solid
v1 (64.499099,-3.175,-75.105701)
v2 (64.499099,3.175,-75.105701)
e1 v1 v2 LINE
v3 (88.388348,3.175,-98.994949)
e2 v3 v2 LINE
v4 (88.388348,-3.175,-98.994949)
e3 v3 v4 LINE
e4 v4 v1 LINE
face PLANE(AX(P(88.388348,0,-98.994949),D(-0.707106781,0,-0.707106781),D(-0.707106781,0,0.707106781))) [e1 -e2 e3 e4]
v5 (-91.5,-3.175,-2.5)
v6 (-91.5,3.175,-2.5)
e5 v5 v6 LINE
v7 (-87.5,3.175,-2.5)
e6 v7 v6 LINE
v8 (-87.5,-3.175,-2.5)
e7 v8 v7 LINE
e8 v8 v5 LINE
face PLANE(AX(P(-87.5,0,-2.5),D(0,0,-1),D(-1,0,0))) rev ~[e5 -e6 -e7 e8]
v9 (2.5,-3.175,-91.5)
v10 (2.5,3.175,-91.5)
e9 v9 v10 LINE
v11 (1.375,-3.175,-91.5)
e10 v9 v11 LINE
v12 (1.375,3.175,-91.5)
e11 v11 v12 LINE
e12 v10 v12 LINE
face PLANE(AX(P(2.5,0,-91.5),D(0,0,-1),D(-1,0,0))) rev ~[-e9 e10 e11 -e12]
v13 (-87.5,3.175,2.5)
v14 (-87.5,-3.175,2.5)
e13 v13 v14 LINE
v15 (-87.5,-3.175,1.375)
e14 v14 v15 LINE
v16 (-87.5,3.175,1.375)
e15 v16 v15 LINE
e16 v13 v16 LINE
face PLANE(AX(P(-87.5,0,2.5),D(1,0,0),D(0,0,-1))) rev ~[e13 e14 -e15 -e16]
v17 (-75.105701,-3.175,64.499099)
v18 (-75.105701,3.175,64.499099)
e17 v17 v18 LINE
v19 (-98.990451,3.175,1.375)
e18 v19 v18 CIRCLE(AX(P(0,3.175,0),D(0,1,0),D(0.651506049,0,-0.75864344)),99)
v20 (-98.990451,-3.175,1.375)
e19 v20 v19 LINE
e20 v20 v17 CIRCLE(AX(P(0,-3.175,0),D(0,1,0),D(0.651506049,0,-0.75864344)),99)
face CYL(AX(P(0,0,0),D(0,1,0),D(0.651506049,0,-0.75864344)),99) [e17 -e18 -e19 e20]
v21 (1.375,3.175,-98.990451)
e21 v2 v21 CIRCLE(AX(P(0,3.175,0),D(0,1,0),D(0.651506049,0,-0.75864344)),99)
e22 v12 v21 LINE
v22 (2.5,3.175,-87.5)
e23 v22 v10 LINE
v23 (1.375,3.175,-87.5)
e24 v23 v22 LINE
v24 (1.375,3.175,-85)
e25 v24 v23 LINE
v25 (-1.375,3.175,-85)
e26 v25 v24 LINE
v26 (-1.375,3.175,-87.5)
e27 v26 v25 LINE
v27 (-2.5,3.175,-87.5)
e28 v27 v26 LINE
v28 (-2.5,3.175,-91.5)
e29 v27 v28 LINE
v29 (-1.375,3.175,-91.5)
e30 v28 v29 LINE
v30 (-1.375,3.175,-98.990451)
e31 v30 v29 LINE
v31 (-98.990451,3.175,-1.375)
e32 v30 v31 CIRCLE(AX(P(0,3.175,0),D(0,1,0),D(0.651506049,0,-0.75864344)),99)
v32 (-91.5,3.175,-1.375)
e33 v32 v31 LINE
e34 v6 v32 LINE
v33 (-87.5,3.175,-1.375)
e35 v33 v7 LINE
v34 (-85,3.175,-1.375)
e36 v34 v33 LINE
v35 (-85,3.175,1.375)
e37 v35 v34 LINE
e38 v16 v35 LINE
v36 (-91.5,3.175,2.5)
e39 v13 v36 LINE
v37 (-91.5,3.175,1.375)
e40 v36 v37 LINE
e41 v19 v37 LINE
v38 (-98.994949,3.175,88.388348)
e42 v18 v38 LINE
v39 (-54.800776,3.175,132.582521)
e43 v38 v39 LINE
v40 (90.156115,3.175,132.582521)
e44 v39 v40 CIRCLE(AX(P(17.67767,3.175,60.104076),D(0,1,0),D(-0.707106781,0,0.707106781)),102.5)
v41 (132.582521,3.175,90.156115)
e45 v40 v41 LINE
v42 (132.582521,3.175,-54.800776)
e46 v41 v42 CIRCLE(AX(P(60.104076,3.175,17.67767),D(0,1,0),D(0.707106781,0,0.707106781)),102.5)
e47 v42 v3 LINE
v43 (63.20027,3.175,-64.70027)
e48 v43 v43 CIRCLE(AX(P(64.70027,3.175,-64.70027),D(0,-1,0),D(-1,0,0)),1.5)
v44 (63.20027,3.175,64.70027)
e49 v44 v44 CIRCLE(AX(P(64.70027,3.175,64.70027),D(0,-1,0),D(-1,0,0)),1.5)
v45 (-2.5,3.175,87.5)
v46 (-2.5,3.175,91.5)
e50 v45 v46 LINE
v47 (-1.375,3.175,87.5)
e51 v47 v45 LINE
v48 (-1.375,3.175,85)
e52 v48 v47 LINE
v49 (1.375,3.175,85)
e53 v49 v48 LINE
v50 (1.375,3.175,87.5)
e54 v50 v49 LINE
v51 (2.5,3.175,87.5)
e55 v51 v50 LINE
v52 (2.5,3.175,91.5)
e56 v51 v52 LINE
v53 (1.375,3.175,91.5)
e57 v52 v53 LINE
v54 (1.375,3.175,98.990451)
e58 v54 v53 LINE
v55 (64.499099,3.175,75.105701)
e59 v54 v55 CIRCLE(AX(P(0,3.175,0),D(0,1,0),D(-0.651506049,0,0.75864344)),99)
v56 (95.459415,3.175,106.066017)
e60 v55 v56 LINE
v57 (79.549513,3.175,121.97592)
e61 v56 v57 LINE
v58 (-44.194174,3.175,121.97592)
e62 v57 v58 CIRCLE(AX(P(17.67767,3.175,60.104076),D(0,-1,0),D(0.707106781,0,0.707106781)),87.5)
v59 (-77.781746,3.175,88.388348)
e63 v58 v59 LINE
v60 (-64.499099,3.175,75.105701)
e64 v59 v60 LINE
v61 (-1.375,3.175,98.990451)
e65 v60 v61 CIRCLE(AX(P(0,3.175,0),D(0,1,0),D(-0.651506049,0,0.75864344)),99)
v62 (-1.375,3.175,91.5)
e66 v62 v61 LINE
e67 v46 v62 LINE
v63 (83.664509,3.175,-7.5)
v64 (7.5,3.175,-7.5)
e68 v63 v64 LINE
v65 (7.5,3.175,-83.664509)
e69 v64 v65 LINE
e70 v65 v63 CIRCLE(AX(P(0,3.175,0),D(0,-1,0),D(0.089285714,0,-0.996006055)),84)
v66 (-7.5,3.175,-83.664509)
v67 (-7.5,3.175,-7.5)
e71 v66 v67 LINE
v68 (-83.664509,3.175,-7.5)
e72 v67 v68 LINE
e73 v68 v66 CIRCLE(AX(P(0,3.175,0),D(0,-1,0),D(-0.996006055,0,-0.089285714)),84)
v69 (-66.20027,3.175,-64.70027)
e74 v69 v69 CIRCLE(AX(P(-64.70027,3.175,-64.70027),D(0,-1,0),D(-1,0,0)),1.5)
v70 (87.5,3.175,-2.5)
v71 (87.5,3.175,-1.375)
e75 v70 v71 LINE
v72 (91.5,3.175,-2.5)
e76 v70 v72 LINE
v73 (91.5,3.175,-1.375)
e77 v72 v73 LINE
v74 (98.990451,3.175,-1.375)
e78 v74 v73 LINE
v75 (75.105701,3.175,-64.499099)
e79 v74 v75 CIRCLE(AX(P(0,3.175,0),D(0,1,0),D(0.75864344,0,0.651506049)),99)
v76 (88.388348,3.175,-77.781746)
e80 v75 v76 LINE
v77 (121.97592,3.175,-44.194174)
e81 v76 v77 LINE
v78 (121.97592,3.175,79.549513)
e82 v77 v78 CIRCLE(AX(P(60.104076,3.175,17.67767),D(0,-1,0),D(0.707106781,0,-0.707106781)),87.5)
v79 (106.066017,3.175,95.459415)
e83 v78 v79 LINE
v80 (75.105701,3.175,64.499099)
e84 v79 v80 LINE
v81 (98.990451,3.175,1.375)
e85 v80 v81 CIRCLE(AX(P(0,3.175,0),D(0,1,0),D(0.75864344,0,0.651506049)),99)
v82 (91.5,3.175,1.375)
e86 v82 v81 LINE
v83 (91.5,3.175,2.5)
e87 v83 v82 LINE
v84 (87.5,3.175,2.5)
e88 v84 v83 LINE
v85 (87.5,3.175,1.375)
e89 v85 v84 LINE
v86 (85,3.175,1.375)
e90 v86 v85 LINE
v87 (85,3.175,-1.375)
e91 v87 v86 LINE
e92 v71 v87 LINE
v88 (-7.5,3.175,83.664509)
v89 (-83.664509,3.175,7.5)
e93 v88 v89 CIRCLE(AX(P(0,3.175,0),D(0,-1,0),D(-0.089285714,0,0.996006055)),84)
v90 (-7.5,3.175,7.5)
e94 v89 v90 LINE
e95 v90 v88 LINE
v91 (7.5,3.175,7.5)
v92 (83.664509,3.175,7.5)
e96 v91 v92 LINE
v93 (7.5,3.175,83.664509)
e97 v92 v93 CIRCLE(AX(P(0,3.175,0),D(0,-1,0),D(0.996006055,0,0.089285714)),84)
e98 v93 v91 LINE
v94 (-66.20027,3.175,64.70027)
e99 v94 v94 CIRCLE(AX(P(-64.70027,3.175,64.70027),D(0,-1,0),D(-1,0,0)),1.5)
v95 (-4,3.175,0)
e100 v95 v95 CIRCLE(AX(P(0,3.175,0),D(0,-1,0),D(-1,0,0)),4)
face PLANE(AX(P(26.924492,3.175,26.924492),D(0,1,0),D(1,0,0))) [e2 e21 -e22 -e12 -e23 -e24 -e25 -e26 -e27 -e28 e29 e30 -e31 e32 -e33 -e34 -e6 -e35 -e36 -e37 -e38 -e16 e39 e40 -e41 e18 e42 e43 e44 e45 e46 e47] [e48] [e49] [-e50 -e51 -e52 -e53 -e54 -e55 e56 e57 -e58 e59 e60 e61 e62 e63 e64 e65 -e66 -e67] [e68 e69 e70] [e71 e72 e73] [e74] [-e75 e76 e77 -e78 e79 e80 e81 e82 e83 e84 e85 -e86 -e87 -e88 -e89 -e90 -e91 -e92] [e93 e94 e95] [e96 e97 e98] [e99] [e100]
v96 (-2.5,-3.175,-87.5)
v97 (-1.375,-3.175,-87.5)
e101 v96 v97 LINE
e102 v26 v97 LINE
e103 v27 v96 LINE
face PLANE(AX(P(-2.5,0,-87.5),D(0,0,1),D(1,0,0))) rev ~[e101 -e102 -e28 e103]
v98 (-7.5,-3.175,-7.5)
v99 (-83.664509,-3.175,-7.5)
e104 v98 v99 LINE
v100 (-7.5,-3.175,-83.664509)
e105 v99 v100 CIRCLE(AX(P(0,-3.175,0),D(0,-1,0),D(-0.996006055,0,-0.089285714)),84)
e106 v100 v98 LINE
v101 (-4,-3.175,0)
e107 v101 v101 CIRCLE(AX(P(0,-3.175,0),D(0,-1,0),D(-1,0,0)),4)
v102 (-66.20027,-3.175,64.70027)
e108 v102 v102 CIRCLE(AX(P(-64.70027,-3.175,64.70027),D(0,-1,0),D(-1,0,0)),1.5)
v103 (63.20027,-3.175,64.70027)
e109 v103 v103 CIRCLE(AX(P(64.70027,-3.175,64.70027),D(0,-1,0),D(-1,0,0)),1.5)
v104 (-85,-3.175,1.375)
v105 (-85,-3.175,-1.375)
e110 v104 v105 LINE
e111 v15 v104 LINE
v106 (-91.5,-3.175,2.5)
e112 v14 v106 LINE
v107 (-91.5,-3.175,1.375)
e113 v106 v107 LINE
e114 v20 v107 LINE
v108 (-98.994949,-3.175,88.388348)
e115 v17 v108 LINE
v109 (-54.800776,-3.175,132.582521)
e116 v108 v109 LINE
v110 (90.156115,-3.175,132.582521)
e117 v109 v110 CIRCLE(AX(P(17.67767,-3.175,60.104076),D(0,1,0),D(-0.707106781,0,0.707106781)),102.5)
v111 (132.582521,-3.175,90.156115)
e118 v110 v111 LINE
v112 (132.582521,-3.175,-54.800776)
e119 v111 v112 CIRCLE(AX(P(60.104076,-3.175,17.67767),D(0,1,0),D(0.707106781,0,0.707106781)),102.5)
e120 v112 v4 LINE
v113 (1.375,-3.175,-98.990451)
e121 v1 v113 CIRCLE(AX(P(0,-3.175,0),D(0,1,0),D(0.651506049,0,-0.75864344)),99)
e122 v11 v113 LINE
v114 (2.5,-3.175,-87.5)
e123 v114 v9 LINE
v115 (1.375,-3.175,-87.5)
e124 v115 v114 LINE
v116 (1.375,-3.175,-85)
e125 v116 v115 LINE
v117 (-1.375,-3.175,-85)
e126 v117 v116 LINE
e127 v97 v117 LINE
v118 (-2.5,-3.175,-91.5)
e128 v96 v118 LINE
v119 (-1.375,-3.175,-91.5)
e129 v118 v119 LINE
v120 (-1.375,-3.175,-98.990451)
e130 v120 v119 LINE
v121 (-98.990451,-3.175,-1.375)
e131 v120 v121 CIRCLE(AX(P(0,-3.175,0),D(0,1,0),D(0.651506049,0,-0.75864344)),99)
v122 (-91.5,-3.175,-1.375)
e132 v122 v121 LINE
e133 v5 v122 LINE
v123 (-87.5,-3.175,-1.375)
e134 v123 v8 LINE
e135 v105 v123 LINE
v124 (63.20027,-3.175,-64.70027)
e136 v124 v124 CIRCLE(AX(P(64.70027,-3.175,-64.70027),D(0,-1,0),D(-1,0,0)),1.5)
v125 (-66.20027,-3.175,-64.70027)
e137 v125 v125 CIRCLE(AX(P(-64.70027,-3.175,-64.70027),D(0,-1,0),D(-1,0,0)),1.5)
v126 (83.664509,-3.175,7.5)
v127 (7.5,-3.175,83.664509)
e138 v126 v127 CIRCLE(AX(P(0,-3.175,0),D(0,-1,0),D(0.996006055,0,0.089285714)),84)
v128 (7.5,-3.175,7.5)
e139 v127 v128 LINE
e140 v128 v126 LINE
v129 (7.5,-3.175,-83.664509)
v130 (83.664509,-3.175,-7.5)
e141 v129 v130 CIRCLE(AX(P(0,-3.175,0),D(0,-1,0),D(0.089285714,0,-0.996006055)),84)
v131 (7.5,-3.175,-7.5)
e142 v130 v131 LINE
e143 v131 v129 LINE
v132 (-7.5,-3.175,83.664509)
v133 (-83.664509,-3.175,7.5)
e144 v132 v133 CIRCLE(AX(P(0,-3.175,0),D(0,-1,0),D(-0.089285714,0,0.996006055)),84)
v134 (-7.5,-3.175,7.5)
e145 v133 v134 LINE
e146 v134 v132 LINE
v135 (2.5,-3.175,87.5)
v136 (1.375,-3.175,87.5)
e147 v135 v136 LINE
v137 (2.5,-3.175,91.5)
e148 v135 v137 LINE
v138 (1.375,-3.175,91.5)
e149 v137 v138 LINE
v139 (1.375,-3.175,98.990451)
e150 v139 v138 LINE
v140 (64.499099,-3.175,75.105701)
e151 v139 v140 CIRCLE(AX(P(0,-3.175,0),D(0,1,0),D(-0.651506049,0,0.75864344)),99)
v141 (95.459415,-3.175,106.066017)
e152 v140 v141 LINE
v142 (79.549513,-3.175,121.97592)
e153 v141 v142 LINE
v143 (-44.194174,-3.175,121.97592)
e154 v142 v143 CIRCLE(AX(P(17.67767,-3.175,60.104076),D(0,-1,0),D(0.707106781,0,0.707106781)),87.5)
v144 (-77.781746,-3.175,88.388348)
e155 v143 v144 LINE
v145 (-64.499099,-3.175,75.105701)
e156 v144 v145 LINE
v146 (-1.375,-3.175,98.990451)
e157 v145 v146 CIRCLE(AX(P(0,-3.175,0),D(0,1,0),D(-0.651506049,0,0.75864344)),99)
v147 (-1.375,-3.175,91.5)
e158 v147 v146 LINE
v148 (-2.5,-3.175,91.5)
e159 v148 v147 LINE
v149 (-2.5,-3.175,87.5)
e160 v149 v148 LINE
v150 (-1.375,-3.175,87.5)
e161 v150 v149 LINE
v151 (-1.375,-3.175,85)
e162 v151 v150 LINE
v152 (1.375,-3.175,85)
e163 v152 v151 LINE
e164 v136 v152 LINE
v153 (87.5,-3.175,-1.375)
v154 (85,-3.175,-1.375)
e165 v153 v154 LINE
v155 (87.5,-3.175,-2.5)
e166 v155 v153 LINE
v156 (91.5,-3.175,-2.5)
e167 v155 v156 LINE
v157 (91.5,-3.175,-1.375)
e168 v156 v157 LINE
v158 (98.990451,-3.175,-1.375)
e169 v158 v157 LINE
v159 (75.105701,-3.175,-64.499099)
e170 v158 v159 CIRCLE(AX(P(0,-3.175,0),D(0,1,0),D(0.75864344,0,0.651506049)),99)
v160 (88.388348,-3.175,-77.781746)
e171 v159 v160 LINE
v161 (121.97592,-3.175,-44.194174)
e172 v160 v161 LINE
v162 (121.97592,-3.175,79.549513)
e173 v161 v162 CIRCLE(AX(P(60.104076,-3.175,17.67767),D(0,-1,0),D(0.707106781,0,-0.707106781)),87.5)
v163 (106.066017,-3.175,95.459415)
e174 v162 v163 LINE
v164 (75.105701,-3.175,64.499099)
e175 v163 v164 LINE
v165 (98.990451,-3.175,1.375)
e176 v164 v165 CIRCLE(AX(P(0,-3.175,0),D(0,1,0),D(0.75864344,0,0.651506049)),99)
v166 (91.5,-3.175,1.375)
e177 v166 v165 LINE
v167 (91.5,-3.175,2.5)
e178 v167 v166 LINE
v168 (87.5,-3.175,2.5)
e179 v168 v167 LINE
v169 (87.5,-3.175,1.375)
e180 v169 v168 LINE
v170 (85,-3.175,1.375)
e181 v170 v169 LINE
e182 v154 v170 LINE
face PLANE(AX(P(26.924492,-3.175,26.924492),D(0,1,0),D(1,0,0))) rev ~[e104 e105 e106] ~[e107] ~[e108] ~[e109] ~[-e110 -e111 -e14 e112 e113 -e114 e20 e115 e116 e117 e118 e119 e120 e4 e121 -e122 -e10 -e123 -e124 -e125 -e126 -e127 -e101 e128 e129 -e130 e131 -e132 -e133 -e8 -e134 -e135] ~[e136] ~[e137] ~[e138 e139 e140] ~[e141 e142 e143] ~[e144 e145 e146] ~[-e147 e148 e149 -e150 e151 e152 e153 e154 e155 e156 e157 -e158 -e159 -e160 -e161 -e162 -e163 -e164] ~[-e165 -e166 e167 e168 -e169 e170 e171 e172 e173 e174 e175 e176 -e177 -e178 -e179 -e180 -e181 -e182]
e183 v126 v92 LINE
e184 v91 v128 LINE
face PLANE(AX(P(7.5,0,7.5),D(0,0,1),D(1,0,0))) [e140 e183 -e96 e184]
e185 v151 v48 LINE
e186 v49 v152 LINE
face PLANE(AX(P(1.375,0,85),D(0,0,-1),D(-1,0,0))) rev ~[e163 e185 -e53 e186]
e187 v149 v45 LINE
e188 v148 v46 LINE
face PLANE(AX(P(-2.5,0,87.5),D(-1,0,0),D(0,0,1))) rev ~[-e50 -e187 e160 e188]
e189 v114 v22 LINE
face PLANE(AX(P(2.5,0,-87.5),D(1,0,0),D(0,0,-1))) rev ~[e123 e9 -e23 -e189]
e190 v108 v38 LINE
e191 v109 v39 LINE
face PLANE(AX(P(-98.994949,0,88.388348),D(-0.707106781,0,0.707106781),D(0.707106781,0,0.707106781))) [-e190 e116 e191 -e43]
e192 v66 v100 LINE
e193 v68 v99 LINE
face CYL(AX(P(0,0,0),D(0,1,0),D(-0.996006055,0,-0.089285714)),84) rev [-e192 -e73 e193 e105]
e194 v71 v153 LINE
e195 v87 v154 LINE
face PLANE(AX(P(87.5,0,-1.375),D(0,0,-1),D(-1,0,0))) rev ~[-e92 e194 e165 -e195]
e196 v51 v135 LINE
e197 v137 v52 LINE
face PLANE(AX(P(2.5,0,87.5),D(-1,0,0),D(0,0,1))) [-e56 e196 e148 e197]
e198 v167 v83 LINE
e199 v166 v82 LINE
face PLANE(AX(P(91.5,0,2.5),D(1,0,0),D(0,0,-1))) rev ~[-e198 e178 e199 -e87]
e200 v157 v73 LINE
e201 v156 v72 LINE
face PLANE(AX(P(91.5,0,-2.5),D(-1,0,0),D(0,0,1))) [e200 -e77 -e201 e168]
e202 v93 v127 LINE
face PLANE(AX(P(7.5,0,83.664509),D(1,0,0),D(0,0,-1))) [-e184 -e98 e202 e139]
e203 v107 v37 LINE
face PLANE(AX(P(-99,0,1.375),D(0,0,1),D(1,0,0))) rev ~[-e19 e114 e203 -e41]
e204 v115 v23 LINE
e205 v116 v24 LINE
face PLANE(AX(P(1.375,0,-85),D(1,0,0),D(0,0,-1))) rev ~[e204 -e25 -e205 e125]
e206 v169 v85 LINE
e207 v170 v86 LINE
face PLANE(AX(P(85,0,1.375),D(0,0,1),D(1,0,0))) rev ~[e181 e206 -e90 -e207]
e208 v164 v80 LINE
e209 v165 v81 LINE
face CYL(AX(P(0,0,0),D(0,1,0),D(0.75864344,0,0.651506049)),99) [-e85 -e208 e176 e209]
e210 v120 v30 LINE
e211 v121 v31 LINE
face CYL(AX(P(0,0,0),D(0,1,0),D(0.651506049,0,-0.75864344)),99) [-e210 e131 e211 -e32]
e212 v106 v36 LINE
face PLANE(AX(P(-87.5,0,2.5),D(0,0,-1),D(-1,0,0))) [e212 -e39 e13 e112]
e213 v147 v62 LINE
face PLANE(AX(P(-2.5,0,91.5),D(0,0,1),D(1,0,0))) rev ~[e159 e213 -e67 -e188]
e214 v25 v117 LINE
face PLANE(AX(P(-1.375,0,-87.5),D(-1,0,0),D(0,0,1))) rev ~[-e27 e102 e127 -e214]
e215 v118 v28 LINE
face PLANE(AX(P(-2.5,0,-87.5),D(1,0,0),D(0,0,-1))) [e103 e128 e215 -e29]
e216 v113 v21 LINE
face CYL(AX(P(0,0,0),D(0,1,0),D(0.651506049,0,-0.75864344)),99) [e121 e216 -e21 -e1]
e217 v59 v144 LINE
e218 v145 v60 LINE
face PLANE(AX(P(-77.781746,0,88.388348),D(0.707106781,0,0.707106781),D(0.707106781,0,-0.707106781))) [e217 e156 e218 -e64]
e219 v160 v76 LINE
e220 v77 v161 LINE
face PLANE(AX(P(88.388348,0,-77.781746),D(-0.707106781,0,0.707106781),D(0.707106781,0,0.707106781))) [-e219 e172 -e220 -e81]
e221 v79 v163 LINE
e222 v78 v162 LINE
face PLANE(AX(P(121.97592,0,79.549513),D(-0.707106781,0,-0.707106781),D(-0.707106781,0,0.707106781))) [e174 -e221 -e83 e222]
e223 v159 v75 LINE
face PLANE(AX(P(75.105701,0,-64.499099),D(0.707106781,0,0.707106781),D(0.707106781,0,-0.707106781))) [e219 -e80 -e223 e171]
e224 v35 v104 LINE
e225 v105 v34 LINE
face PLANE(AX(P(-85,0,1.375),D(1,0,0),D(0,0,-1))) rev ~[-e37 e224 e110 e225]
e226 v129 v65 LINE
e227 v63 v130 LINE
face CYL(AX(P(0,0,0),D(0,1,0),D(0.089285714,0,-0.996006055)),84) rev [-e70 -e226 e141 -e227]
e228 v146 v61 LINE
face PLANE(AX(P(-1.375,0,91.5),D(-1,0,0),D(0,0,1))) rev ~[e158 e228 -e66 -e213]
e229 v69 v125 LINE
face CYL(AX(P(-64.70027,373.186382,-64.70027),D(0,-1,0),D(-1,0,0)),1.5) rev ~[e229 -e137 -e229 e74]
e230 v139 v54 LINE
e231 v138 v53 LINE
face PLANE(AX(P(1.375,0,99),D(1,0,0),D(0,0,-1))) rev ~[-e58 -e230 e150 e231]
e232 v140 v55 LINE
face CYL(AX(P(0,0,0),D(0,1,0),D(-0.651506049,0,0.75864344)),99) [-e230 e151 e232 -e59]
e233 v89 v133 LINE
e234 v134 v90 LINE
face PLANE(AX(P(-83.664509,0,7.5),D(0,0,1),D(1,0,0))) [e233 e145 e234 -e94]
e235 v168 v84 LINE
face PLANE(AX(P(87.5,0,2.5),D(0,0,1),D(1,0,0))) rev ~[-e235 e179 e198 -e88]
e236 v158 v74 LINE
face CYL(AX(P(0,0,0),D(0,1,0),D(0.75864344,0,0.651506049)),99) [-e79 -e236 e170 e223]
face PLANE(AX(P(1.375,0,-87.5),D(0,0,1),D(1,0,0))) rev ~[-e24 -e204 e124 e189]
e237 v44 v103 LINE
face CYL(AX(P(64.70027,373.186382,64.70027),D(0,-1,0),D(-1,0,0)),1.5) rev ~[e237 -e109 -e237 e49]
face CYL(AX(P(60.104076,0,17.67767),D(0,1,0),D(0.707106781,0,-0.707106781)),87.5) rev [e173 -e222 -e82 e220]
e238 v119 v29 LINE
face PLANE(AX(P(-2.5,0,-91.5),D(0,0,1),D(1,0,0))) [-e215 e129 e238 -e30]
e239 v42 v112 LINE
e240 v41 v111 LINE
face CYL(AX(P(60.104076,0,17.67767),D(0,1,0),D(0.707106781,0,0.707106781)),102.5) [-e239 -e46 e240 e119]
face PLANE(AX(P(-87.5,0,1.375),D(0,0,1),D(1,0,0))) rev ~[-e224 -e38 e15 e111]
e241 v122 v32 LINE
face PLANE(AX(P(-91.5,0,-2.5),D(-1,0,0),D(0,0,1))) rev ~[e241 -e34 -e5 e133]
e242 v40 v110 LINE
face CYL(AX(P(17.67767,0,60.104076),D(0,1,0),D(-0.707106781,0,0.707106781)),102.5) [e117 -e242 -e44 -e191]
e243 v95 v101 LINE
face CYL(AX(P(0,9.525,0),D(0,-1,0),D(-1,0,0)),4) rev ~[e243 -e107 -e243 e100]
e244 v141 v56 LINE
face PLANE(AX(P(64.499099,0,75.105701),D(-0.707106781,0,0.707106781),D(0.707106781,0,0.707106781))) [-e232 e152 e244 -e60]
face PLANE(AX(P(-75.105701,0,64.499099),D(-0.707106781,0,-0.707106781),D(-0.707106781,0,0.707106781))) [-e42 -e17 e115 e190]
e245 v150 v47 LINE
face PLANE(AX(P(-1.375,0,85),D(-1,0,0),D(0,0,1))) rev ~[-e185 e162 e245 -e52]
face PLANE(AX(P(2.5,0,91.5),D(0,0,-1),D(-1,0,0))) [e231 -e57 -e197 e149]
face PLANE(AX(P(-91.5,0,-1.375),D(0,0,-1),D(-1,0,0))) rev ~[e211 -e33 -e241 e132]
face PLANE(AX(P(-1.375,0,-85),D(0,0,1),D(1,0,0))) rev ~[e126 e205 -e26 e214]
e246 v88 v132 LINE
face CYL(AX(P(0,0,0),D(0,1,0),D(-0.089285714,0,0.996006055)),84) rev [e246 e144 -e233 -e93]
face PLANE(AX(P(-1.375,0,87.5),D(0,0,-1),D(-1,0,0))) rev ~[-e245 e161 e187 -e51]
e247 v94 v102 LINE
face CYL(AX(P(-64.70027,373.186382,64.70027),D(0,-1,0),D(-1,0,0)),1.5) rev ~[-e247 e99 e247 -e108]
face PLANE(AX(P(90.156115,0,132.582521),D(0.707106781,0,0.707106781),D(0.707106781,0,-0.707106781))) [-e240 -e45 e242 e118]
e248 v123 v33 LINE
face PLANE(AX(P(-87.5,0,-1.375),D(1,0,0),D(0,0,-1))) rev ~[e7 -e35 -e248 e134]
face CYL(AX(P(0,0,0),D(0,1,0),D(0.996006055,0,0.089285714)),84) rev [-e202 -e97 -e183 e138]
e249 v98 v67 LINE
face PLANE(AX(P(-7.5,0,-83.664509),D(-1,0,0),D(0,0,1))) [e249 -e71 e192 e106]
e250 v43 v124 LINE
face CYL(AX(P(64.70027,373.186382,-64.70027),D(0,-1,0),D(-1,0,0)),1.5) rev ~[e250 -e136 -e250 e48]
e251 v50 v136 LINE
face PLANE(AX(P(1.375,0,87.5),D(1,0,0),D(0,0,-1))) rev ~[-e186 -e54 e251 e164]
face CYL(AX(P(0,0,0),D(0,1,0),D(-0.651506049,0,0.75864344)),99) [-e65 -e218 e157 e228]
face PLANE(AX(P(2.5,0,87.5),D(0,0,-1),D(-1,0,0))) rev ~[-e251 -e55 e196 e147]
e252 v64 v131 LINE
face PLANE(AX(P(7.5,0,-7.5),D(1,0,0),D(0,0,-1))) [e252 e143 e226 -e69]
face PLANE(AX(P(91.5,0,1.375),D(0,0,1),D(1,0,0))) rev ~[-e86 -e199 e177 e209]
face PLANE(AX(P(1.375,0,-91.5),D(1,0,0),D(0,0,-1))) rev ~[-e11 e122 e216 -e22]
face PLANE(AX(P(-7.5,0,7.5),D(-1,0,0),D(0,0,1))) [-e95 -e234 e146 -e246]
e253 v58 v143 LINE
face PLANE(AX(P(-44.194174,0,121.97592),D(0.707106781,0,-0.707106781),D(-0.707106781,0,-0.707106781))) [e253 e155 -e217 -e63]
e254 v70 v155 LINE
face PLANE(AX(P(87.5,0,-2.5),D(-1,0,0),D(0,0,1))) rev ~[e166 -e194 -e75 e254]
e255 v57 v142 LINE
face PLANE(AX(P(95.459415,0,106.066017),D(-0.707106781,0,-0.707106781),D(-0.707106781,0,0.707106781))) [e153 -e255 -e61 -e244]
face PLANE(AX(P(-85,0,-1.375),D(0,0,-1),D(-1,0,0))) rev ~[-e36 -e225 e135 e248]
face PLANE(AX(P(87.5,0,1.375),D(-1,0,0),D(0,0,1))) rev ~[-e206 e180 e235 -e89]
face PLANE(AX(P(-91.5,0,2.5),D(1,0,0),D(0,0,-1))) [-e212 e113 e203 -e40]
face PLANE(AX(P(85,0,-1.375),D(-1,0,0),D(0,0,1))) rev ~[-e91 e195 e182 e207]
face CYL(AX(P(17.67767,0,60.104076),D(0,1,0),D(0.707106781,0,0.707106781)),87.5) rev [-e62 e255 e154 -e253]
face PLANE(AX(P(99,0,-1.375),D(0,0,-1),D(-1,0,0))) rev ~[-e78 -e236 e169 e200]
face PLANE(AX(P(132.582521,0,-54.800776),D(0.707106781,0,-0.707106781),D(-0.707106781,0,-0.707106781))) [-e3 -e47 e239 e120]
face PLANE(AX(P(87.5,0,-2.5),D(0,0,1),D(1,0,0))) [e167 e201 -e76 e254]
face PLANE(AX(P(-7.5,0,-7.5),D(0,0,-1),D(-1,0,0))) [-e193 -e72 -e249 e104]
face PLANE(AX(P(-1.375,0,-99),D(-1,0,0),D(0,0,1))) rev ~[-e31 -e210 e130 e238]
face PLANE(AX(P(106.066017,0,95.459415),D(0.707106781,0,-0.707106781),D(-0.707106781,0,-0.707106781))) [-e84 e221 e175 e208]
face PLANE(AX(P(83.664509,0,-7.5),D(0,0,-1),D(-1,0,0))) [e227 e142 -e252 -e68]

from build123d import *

# Parameters (mm, degrees)
BOSS_EXTRUDE1_DEPTH          = 3.175
SKETCH2_W                    = 2.75
SKETCH2_H                    = 2.5
SKETCH2_H_2                  = 4
SKETCH2_W_2                  = 1.125
SKETCH2_H_3                  = 7.5
CUT_EXTRUDE1_DEPTH           = 230.978807609
CIRPATTERN1_COUNT            = 4
F_3_0_3_DIAMETER_HOLE1_D     = 3
F_8_0_8_DIAMETER_HOLE1_D     = 8
F_8_0_8_DIAMETER_HOLE1_DEPTH = 6.35


with BuildPart() as part:
    # Sketch1 → Boss-Extrude1 (new, symmetric)
    with BuildSketch(Plane(origin=(0, 0, 0), x_dir=(1, 0, 0), z_dir=(0, 1, 0))):
        with BuildLine():
            Line((88.388347648, 98.994949366), (64.499098813, 75.105700531))
            ThreePointArc((64.499098813, 75.105700531), (-70.003571337, 70.003571337), (-75.105700531, -64.499098813))
            Line((-75.105700531, -64.499098813), (-98.994949366, -88.388347648))
            Line((-98.994949366, -88.388347648), (-54.800775542, -132.582521472))
            ThreePointArc((-54.800775542, -132.582521472), (17.67766953, -162.604076401), (90.156114601, -132.582521472))
            Line((90.156114601, -132.582521472), (132.582521472, -90.156114601))
            ThreePointArc((132.582521472, -90.156114601), (162.604076401, -17.67766953), (132.582521472, 54.800775542))
            Line((132.582521472, 54.800775542), (88.388347648, 98.994949366))
        make_face()
        with BuildLine():
            Line((-7.5, -7.5), (-7.5, -83.664508604))
            ThreePointArc((-7.5, -83.664508604), (-59.39696962, -59.39696962), (-83.664508604, -7.5))
            Line((-83.664508604, -7.5), (-7.5, -7.5))
        make_face(mode=Mode.SUBTRACT)
        with BuildLine():
            ThreePointArc((83.664508604, -7.5), (59.39696962, -59.39696962), (7.5, -83.664508604))
            Line((7.5, -83.664508604), (7.5, -7.5))
            Line((7.5, -7.5), (83.664508604, -7.5))
        make_face(mode=Mode.SUBTRACT)
        with BuildLine():
            ThreePointArc((-64.499098813, -75.105700531), (0, -99), (64.499098813, -75.105700531))
            Line((64.499098813, -75.105700531), (95.45941546, -106.066017178))
            Line((95.45941546, -106.066017178), (79.549512883, -121.975919755))
            ThreePointArc((79.549512883, -121.975919755), (17.67766953, -147.604076401), (-44.194173824, -121.975919755))
            Line((-44.194173824, -121.975919755), (-77.781745931, -88.388347648))
            Line((-77.781745931, -88.388347648), (-64.499098813, -75.105700531))
        make_face(mode=Mode.SUBTRACT)
        with BuildLine():
            ThreePointArc((75.105700531, -64.499098813), (99, 0), (75.105700531, 64.499098813))
            Line((75.105700531, 64.499098813), (88.388347648, 77.781745931))
            Line((88.388347648, 77.781745931), (121.975919755, 44.194173824))
            ThreePointArc((121.975919755, 44.194173824), (147.604076401, -17.67766953), (121.975919755, -79.549512883))
            Line((121.975919755, -79.549512883), (106.066017178, -95.45941546))
            Line((106.066017178, -95.45941546), (75.105700531, -64.499098813))
        make_face(mode=Mode.SUBTRACT)
        with BuildLine():
            Line((-7.5, 7.5), (-83.664508604, 7.5))
            ThreePointArc((-83.664508604, 7.5), (-59.39696962, 59.39696962), (-7.5, 83.664508604))
            Line((-7.5, 83.664508604), (-7.5, 7.5))
        make_face(mode=Mode.SUBTRACT)
        with BuildLine():
            ThreePointArc((7.5, 83.664508604), (59.39696962, 59.39696962), (83.664508604, 7.5))
            Line((83.664508604, 7.5), (7.5, 7.5))
            Line((7.5, 7.5), (7.5, 83.664508604))
        make_face(mode=Mode.SUBTRACT)
    extrude(amount=BOSS_EXTRUDE1_DEPTH, both=True)

    # Sketch2 → Cut-Extrude1 (cut, symmetric)
    with BuildSketch(Plane(origin=(0, 0, 0), x_dir=(1, 0, 0), z_dir=(0, 1, 0))):
        with Locations((0, 86.25)):
            Rectangle(SKETCH2_W, SKETCH2_H)
        with Locations((0, 89.5)):
            Rectangle(SKETCH2_W, SKETCH2_H_2)
        with Locations((1.9375, 89.5)):
            Rectangle(SKETCH2_W_2, SKETCH2_H_2)
        with Locations((0, 95.25)):
            Rectangle(SKETCH2_W, SKETCH2_H_3)
        with Locations((-1.9375, 89.5)):
            Rectangle(SKETCH2_W_2, SKETCH2_H_2)
    cut_extrude1 = extrude(amount=CUT_EXTRUDE1_DEPTH, both=True, mode=Mode.SUBTRACT)

    # CirPattern1: Cut-Extrude1 ×4 about axis
    cirpattern1_axis = Axis((0, 0, 0), (0, 1, 0))
    for i in range(1, CIRPATTERN1_COUNT):
        add(cut_extrude1.rotate(cirpattern1_axis, i * 360 / CIRPATTERN1_COUNT), mode=Mode.SUBTRACT)

    # Ø3.0 (3) Diameter Hole1 (through all)
    with Locations(Plane(origin=(0, 3.175, 0), x_dir=(1, 0, 0), z_dir=(0, 1, 0))):
        with Locations((-64.700270479, -64.700270479), (0, 0), (-64.700270479, 64.700270479), (64.700270479, 64.700270479), (64.700270479, -64.700270479)):
            Hole(F_3_0_3_DIAMETER_HOLE1_D / 2)

    # Ø8.0 (8) Diameter Hole1
    with Locations(Plane(origin=(0, 3.175, 0), x_dir=(1, 0, 0), z_dir=(0, 1, 0))):
        with Locations((0, 0)):
            Hole(F_8_0_8_DIAMETER_HOLE1_D / 2, depth=F_8_0_8_DIAMETER_HOLE1_DEPTH)


solid = part.part
